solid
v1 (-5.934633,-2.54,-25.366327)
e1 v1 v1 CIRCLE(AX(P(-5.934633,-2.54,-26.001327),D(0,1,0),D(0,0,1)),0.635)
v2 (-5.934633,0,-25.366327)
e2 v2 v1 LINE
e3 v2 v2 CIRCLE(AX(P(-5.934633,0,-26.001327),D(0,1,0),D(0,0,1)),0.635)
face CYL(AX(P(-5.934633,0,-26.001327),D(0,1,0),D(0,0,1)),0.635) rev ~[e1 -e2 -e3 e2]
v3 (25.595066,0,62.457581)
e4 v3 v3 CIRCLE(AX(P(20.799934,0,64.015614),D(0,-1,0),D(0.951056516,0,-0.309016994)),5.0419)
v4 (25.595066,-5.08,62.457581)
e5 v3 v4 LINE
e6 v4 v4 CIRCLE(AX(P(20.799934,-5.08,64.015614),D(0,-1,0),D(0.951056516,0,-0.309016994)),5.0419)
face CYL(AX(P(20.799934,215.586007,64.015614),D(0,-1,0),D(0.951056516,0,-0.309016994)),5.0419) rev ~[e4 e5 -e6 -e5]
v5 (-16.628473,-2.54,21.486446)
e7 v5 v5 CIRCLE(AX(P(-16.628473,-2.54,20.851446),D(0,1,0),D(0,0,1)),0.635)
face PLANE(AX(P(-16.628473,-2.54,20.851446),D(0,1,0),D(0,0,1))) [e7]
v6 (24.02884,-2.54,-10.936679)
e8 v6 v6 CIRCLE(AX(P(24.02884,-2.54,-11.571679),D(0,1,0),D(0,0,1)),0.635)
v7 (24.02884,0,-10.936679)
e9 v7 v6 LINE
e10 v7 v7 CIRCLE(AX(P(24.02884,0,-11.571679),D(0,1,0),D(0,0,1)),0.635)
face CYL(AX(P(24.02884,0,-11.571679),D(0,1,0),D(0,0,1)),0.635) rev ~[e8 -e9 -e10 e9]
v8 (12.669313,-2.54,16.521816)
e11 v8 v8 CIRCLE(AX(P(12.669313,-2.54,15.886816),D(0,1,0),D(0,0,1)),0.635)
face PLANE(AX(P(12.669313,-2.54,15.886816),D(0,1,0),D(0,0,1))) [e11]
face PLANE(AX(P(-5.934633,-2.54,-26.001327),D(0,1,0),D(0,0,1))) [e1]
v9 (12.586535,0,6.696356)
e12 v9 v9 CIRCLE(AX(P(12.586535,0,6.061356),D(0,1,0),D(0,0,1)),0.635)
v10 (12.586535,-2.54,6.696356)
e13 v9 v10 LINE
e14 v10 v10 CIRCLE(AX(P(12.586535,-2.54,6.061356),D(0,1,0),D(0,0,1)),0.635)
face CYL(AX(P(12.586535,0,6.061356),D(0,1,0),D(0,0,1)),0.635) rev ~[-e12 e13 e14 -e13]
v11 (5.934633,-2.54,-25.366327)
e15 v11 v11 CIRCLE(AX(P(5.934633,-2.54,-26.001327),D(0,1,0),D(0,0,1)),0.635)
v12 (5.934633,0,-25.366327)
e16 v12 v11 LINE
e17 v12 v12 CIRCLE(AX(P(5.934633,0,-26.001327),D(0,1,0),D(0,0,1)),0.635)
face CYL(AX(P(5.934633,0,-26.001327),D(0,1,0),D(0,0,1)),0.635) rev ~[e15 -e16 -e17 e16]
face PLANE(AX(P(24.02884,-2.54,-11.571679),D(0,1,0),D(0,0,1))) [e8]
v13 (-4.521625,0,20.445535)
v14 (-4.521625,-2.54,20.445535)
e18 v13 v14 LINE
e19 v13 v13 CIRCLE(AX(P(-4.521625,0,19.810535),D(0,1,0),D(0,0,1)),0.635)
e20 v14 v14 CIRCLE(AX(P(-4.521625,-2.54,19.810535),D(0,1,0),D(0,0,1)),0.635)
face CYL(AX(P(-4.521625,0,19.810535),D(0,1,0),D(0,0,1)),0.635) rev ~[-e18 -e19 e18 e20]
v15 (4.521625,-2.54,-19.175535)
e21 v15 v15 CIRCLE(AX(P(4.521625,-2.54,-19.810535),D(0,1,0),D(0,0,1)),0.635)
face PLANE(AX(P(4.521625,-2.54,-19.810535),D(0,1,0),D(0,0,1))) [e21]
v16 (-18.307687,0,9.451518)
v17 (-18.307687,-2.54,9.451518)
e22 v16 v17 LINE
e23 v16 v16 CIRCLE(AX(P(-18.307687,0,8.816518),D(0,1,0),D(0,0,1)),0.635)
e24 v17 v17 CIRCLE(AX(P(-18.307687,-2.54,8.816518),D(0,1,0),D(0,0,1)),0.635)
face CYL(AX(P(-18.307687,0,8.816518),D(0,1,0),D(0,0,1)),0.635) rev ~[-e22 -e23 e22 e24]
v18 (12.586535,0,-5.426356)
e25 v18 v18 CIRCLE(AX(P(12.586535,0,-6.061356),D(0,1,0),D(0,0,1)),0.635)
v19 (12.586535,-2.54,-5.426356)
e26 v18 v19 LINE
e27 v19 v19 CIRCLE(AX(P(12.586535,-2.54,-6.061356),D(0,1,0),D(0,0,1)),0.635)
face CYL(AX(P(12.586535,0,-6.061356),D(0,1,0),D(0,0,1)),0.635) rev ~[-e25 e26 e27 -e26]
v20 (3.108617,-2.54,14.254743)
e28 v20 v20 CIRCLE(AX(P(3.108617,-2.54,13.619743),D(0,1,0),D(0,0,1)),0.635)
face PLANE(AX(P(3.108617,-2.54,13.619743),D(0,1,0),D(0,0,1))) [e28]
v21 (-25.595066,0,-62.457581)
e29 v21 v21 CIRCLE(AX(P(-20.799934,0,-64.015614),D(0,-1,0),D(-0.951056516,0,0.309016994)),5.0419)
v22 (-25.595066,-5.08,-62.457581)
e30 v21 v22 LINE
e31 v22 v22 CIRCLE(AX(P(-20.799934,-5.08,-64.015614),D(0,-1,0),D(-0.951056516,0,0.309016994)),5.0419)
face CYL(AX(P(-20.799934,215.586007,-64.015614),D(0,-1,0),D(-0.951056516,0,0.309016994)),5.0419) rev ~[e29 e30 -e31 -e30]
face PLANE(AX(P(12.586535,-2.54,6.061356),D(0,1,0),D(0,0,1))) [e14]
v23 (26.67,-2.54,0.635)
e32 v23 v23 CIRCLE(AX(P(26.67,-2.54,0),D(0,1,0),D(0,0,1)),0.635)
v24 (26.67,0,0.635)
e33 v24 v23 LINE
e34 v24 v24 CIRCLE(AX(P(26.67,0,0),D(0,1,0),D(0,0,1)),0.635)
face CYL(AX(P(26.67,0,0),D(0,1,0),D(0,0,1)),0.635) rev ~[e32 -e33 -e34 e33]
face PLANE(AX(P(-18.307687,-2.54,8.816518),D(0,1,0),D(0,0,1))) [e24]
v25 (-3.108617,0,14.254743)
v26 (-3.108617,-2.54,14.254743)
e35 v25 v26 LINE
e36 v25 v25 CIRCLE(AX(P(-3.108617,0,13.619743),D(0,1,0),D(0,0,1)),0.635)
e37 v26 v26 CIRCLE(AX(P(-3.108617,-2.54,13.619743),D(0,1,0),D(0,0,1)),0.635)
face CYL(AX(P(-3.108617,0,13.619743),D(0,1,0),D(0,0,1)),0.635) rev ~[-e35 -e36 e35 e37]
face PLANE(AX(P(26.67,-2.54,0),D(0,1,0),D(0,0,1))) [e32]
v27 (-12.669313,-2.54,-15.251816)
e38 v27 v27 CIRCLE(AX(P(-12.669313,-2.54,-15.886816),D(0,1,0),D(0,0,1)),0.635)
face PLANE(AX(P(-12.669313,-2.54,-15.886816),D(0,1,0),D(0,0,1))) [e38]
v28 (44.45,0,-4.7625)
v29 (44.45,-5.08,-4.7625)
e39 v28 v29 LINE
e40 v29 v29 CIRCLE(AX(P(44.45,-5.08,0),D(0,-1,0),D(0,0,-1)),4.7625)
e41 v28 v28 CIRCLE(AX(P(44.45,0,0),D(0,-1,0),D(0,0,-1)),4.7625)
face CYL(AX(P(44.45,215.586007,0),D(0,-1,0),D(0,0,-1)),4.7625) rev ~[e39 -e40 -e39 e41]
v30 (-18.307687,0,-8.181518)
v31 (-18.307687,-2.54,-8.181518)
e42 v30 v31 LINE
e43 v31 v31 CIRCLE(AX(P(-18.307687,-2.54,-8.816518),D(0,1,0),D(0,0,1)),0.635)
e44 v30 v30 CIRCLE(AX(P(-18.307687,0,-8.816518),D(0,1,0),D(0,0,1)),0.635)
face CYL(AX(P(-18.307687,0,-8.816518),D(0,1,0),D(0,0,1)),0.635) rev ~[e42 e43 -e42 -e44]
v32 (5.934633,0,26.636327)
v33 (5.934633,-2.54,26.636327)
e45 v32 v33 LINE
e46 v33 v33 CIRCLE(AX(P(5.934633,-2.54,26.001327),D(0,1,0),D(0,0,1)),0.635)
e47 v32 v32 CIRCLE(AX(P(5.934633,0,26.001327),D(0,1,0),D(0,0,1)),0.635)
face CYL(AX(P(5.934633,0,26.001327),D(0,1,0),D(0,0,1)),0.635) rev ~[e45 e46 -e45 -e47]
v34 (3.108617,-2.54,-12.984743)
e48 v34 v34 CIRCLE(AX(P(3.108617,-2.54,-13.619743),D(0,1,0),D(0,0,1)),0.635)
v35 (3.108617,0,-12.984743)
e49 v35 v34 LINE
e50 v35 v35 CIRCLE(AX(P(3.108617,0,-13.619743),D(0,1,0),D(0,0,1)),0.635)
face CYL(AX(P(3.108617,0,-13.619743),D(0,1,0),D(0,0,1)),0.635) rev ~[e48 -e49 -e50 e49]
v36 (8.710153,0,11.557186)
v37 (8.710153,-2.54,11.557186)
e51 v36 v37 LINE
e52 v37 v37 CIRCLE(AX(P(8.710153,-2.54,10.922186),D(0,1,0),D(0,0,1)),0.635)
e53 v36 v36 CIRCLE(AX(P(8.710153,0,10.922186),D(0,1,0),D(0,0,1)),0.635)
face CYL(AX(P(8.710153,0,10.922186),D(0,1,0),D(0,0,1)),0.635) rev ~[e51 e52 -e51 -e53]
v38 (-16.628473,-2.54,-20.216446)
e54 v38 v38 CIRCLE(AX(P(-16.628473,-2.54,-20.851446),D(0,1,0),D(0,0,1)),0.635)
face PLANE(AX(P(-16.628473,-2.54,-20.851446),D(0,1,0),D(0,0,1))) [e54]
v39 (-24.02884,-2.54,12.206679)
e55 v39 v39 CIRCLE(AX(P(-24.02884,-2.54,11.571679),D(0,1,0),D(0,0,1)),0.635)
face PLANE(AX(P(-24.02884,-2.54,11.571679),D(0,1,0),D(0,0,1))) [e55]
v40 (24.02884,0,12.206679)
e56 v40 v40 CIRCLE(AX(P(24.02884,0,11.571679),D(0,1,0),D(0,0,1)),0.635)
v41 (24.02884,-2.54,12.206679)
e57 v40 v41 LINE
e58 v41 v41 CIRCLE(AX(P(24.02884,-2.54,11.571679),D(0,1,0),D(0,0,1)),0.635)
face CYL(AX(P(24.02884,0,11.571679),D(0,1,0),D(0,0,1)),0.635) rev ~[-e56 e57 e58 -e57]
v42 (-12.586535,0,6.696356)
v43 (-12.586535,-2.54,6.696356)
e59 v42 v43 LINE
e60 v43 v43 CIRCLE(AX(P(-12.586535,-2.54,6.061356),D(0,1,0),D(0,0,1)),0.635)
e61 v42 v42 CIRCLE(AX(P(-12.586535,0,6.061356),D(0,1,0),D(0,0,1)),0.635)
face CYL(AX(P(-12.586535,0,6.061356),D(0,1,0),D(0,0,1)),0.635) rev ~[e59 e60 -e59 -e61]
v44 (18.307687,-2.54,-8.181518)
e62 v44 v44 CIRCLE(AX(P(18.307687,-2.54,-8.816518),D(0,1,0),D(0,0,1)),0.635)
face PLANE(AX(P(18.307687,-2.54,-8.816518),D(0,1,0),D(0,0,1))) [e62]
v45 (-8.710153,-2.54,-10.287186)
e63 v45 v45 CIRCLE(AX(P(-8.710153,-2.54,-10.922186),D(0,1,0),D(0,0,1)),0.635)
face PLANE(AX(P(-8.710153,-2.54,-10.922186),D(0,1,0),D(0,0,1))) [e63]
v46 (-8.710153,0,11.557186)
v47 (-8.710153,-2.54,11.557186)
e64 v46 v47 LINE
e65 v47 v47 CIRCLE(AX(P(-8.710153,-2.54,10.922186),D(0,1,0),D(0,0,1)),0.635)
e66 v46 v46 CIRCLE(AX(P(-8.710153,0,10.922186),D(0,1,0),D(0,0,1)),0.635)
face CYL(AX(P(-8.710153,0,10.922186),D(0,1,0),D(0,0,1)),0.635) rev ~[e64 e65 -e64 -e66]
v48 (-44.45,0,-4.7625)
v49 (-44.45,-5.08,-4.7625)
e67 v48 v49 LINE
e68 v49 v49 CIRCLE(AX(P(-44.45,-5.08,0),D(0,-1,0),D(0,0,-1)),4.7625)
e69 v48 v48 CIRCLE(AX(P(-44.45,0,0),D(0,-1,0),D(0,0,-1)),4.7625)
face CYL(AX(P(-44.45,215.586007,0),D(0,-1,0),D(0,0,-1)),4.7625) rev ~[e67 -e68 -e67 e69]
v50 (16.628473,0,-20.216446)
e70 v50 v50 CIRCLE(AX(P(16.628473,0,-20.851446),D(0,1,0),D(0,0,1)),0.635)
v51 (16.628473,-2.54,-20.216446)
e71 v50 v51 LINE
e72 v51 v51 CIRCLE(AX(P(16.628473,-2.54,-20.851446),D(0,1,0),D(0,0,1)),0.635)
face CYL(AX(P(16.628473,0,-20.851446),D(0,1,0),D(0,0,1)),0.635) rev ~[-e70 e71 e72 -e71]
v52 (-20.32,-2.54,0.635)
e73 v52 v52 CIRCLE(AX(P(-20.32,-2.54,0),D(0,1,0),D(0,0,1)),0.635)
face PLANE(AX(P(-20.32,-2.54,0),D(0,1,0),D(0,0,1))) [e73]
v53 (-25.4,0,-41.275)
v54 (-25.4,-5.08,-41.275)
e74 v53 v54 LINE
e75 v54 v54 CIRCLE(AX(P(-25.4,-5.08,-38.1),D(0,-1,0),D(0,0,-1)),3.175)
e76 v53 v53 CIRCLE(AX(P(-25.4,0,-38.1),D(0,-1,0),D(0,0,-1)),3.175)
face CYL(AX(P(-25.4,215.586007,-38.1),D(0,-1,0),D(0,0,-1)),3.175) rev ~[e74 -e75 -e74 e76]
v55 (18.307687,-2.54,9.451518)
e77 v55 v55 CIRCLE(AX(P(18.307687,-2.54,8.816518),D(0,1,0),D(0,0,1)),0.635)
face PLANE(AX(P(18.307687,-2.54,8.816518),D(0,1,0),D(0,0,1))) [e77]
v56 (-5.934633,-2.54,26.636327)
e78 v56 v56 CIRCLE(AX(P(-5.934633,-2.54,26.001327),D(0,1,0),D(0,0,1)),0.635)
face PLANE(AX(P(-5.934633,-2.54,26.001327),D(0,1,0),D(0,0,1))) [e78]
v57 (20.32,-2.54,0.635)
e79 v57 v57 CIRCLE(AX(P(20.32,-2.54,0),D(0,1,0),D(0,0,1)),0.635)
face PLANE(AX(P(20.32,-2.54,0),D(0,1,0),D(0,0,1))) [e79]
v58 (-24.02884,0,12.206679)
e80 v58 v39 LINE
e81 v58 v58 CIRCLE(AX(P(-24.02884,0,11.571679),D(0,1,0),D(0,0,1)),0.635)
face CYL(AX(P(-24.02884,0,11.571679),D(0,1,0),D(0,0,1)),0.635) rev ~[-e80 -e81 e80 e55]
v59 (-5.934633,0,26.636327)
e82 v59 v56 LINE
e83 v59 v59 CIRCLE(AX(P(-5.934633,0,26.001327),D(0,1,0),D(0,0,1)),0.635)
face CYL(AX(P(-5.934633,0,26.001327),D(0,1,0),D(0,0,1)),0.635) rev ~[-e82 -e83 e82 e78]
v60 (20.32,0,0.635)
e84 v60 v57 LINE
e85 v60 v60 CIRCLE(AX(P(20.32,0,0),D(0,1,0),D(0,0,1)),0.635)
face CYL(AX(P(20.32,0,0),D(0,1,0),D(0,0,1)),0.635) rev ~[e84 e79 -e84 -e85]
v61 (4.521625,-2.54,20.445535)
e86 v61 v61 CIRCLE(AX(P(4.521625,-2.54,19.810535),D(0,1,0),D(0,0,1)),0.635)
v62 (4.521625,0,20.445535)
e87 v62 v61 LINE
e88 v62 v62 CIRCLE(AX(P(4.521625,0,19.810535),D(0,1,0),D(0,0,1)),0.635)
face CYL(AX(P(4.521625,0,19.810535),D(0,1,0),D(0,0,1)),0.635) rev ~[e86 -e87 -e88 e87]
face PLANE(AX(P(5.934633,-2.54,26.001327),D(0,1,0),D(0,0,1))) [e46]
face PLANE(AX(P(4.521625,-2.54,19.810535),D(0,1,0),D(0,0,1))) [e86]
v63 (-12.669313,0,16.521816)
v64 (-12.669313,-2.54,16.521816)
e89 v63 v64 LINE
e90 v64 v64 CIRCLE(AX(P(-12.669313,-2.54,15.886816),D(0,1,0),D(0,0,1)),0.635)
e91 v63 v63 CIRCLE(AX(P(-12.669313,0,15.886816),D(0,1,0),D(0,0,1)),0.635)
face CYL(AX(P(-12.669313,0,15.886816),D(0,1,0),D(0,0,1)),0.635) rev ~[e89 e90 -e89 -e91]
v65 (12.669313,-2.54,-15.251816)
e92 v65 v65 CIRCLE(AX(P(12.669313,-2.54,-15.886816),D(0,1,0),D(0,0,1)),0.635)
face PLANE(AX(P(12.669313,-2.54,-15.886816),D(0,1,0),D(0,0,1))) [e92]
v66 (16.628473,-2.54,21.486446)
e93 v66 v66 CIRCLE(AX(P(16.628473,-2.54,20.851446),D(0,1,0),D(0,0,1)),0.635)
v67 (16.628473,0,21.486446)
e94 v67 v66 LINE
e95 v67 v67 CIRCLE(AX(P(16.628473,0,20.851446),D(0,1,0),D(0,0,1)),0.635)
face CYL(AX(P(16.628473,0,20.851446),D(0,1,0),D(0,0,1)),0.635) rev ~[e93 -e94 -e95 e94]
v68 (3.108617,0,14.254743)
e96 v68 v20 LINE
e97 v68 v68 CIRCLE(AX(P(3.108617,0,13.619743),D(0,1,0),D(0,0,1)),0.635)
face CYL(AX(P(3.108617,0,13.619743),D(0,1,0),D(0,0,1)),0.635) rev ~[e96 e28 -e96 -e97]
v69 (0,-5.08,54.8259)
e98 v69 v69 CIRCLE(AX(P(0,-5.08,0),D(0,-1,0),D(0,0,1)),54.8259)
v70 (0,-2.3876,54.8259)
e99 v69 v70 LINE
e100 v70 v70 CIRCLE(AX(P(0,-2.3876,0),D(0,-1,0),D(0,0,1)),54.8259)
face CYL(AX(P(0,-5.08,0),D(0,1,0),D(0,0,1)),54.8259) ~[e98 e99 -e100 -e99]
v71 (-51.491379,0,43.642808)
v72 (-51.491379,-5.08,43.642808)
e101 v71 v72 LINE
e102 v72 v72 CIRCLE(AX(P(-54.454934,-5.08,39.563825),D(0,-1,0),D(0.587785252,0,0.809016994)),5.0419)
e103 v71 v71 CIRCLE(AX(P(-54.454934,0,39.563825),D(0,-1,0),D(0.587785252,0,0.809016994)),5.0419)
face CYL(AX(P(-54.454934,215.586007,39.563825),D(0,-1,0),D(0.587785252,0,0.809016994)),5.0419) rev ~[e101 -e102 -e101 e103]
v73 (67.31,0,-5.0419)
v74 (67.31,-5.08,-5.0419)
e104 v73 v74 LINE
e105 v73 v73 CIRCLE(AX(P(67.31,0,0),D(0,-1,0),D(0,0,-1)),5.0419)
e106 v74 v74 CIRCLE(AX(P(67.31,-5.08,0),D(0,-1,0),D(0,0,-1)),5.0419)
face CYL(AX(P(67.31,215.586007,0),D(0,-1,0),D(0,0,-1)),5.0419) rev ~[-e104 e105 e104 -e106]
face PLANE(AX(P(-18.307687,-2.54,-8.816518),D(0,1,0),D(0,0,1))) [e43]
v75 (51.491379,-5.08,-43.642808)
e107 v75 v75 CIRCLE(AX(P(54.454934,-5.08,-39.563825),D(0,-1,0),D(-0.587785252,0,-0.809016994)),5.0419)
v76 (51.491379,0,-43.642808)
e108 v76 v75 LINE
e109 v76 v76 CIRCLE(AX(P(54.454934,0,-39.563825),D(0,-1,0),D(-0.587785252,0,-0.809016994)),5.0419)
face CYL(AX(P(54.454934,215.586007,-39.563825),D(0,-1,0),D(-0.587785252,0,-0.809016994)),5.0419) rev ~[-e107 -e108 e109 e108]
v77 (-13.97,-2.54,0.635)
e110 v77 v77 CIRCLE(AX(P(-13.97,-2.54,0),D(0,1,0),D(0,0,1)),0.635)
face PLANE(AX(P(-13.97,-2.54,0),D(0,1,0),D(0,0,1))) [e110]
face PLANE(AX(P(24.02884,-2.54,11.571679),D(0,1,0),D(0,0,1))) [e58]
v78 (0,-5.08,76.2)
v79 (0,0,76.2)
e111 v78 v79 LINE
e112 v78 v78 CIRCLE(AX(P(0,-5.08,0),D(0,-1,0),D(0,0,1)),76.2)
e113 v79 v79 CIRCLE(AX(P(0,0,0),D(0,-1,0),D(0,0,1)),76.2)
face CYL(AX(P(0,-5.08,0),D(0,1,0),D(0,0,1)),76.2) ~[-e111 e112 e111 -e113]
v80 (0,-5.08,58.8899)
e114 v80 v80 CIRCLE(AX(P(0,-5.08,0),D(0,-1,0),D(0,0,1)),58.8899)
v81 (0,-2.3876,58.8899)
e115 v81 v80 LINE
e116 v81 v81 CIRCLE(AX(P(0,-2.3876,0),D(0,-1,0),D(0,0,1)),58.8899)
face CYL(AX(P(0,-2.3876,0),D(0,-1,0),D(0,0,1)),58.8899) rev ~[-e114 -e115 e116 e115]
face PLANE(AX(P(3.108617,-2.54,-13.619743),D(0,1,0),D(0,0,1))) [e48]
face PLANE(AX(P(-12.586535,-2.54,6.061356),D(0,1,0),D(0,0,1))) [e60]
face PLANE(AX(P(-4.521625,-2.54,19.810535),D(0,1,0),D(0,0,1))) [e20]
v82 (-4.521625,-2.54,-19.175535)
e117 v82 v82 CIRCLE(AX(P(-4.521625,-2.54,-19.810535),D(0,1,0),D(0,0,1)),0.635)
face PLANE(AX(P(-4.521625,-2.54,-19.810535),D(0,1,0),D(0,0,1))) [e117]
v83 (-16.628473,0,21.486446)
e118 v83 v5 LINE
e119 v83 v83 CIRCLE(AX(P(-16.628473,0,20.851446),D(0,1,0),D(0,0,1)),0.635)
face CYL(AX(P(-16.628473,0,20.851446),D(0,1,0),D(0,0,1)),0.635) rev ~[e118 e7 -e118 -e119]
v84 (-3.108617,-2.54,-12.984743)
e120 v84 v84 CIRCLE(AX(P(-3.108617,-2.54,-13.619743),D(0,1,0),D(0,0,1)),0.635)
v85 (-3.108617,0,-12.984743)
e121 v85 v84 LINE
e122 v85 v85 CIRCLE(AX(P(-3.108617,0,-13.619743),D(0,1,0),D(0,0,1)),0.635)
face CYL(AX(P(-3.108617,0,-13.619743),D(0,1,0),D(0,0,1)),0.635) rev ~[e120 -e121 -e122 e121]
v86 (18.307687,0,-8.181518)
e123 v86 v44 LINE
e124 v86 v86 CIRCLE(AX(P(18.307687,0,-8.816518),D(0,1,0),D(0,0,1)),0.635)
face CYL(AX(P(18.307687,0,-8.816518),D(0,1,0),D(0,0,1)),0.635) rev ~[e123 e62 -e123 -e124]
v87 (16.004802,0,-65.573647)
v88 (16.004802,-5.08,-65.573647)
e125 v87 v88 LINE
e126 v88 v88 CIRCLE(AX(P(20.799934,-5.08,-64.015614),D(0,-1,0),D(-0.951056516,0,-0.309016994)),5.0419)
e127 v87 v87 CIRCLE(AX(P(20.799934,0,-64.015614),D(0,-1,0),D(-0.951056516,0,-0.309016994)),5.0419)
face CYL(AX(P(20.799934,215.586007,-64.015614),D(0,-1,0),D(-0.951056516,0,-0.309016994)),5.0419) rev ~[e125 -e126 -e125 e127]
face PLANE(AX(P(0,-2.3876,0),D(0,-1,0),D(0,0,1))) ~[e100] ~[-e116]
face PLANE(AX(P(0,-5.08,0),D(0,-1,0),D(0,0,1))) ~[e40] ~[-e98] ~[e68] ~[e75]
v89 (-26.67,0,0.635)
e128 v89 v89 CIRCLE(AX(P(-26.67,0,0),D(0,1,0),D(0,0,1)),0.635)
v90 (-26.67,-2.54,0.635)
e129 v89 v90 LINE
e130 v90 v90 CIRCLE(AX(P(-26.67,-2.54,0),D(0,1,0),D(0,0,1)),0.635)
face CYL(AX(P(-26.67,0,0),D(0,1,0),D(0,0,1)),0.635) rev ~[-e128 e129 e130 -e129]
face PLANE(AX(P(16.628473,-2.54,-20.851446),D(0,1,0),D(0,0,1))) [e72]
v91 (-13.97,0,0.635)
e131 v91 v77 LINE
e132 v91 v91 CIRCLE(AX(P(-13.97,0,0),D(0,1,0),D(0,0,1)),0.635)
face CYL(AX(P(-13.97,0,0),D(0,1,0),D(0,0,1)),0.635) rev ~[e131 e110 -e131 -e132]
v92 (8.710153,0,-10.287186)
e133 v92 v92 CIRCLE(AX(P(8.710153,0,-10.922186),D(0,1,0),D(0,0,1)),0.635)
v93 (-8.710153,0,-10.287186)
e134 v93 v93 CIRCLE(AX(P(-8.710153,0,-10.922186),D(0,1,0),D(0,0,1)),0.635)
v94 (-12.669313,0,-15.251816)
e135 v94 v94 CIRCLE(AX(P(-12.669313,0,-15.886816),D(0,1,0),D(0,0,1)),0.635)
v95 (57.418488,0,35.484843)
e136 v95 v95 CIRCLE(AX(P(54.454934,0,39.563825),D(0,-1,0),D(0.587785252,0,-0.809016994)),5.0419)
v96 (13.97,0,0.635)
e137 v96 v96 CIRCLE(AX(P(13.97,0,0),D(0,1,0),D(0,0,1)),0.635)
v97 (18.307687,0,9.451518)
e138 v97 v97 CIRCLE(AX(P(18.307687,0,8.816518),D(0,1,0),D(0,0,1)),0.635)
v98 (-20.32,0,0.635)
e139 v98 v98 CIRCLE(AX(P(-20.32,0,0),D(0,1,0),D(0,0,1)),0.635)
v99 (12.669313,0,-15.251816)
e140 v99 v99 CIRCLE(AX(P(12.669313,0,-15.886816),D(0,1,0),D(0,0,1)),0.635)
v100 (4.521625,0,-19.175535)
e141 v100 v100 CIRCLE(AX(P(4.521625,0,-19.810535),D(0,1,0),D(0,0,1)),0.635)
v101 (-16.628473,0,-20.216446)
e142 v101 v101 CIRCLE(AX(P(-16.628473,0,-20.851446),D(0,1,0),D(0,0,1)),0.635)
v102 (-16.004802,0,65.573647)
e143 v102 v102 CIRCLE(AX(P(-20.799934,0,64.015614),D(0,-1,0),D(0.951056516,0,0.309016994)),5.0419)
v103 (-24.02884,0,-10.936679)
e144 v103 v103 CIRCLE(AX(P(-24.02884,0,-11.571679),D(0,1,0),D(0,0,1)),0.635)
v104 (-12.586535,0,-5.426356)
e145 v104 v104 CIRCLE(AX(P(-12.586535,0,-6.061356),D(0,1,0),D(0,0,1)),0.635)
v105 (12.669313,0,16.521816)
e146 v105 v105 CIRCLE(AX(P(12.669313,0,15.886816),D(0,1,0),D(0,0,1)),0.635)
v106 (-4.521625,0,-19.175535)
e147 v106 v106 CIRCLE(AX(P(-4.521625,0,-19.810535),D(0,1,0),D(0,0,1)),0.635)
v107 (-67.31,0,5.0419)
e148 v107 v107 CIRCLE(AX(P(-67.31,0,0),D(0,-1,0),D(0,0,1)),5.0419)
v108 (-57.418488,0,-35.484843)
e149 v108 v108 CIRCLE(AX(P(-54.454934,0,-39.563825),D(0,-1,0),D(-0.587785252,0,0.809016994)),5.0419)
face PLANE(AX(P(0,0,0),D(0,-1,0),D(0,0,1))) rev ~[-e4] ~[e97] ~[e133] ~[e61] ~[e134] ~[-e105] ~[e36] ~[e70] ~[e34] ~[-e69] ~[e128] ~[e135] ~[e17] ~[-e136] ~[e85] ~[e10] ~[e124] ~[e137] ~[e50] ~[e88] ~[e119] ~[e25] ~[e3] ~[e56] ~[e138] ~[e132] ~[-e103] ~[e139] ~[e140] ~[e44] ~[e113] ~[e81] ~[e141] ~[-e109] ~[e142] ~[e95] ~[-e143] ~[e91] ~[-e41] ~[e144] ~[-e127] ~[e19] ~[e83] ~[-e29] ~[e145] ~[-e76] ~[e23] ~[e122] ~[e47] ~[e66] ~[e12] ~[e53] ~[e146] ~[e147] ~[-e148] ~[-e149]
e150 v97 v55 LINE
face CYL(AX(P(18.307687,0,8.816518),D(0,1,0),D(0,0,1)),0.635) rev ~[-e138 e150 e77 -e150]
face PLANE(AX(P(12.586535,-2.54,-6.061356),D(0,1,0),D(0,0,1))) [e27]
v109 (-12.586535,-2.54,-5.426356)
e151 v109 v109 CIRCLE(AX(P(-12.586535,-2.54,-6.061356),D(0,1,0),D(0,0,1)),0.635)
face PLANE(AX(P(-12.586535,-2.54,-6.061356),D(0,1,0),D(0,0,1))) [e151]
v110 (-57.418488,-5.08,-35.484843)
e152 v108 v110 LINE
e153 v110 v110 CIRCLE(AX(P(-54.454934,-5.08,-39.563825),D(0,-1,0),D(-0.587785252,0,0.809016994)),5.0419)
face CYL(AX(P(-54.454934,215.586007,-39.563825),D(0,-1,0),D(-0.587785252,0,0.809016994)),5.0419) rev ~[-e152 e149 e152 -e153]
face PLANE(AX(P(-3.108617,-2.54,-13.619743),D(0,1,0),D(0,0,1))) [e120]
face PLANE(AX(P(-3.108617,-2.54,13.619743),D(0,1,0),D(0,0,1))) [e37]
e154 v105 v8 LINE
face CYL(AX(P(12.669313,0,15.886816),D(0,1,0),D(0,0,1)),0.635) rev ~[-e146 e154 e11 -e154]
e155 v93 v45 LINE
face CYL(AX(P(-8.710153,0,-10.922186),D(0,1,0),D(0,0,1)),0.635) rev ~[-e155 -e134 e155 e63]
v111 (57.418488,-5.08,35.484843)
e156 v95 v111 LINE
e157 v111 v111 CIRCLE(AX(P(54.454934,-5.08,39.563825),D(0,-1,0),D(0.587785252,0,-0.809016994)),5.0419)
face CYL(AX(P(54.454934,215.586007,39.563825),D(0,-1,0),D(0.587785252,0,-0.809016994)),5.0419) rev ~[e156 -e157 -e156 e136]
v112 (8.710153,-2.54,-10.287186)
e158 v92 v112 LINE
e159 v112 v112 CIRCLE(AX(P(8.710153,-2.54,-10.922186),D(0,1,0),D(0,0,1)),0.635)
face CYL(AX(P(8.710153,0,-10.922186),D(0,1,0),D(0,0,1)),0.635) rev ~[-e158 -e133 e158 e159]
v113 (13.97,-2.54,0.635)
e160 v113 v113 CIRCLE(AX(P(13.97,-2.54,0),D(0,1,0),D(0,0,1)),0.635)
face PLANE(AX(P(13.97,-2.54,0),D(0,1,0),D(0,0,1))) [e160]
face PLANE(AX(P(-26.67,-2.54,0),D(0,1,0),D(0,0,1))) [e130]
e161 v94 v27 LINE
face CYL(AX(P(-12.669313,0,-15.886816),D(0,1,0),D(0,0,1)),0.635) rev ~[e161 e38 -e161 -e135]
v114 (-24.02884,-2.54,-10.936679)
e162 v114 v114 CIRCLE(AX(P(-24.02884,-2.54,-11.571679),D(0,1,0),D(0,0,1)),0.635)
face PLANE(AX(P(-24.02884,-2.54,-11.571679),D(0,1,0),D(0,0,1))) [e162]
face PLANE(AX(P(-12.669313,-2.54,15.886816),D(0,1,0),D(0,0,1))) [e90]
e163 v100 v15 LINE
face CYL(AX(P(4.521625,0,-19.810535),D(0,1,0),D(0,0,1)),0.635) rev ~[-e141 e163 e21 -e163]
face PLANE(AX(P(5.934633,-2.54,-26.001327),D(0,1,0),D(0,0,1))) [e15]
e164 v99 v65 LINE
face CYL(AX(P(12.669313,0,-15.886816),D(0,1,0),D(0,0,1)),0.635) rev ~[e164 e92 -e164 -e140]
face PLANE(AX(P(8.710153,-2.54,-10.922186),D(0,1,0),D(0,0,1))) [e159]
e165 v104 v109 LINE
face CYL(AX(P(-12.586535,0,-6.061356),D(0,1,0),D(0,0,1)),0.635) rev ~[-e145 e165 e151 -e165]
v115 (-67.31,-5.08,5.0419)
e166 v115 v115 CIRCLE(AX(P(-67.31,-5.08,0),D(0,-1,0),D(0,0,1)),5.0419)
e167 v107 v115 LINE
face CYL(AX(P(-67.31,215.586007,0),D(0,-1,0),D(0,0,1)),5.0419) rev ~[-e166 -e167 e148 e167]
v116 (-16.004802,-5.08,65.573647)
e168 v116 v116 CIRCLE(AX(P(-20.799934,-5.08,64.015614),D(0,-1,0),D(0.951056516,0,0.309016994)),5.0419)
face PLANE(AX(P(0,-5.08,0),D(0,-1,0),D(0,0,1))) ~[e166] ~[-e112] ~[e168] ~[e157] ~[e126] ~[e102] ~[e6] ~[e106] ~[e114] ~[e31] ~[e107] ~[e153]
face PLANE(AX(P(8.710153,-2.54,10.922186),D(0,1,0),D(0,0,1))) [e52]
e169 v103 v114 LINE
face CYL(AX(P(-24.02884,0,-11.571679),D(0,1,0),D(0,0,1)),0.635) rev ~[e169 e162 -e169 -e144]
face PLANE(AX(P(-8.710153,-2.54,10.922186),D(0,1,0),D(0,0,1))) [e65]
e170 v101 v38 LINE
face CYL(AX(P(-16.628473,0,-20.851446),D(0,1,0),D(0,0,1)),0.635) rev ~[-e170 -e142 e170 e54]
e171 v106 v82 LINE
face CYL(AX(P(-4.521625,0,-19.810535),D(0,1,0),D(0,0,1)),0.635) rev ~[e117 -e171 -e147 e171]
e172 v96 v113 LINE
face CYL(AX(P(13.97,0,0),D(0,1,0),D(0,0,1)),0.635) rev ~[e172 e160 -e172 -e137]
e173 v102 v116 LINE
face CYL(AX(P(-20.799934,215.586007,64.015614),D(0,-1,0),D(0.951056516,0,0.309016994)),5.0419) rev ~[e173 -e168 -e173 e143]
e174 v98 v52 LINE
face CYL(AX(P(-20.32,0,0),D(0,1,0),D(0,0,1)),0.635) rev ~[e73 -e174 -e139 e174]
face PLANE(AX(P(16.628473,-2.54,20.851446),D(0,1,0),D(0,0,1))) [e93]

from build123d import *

# Parameters (mm, degrees)
F_3_8_CLEARANCE_HOLE1_D      = 10.0838
CIRPATTERN1_COUNT            = 10
F_3_8_0_375_DIAMETER_HOLE1_D = 9.525
F_1_4_0_25_DIAMETER_HOLE1_D  = 6.35
SKETCH7_R                    = 0.635
CUT_EXTRUDE1_DEPTH           = 2.54


with BuildPart() as part:
    # Sketch1 → Revolve1 (revolve)
    with BuildSketch(Plane.XY):
        Polygon((0, 0), (0, -5.08), (54.8259, -5.08), (54.8259, -2.3876), (58.8899, -2.3876), (58.8899, -5.08), (76.2, -5.08), (76.2, 0), align=None)
    revolve(axis=Axis((0, 0, 0), (0, -1, 0)))

    # 3/8 Clearance Hole1 (through all)
    with Locations(Plane(origin=(67.31, 0, 0), x_dir=(0, 0, 1), z_dir=(0, 1, 0))):
        with Locations((0, 0)):
            f_3_8_clearance_hole1 = Hole(F_3_8_CLEARANCE_HOLE1_D / 2)

    # CirPattern1: 3/8 Clearance Hole1 ×10 about axis
    cirpattern1_axis = Axis((0, -5.334, 0), (0, 1, 0))
    for i in range(1, CIRPATTERN1_COUNT):
        add(f_3_8_clearance_hole1.rotate(cirpattern1_axis, i * 360 / CIRPATTERN1_COUNT), mode=Mode.SUBTRACT)

    # 3/8 (0.375) Diameter Hole1 (through all)
    with Locations(Plane(origin=(44.45, 0, 0), x_dir=(0, 0, 1), z_dir=(0, 1, 0))):
        with Locations((0, 0), (0, -88.9)):
            Hole(F_3_8_0_375_DIAMETER_HOLE1_D / 2)

    # 1/4 (0.25) Diameter Hole1 (through all)
    with Locations(Plane(origin=(-25.4, 0, -38.1), x_dir=(0, 0, 1), z_dir=(0, 1, 0))):
        with Locations((0, 0)):
            Hole(F_1_4_0_25_DIAMETER_HOLE1_D / 2)

    # Sketch7 → Cut-Extrude1 (cut)
    with BuildSketch(Plane(origin=(0, 0, 0), x_dir=(1, 0, 0), z_dir=(0, 1, 0))):
        with Locations((13.97, 0)):
            Circle(SKETCH7_R)
        with Locations((20.32, 0)):
            Circle(SKETCH7_R)
        with Locations((26.67, 0)):
            Circle(SKETCH7_R)
        with Locations((12.586535085, -6.061355835)):
            Circle(SKETCH7_R)
        with Locations((18.307687396, -8.816517579)):
            Circle(SKETCH7_R)
        with Locations((24.028839707, -11.571679322)):
            Circle(SKETCH7_R)
        with Locations((8.710152532, -10.92218581)):
            Circle(SKETCH7_R)
        with Locations((12.669312774, -15.886815724)):
            Circle(SKETCH7_R)
        with Locations((16.628473016, -20.851445637)):
            Circle(SKETCH7_R)
        with Locations((3.108617447, -13.619742933)):
            Circle(SKETCH7_R)
        with Locations((4.521625378, -19.810535176)):
            Circle(SKETCH7_R)
        with Locations((5.934633309, -26.001327418)):
            Circle(SKETCH7_R)
        with Locations((-3.108617447, -13.619742933)):
            Circle(SKETCH7_R)
        with Locations((-4.521625378, -19.810535176)):
            Circle(SKETCH7_R)
        with Locations((-5.934633309, -26.001327418)):
            Circle(SKETCH7_R)
        with Locations((-8.710152532, -10.92218581)):
            Circle(SKETCH7_R)
        with Locations((-12.669312774, -15.886815724)):
            Circle(SKETCH7_R)
        with Locations((-16.628473016, -20.851445637)):
            Circle(SKETCH7_R)
        with Locations((-12.586535085, -6.061355835)):
            Circle(SKETCH7_R)
        with Locations((-18.307687396, -8.816517579)):
            Circle(SKETCH7_R)
        with Locations((-24.028839707, -11.571679322)):
            Circle(SKETCH7_R)
        with Locations((-13.97, 0)):
            Circle(SKETCH7_R)
        with Locations((-20.32, 0)):
            Circle(SKETCH7_R)
        with Locations((-26.67, 0)):
            Circle(SKETCH7_R)
        with Locations((-12.586535085, 6.061355835)):
            Circle(SKETCH7_R)
        with Locations((-18.307687396, 8.816517579)):
            Circle(SKETCH7_R)
        with Locations((-24.028839707, 11.571679322)):
            Circle(SKETCH7_R)
        with Locations((-8.710152532, 10.92218581)):
            Circle(SKETCH7_R)
        with Locations((-12.669312774, 15.886815724)):
            Circle(SKETCH7_R)
        with Locations((-16.628473016, 20.851445637)):
            Circle(SKETCH7_R)
        with Locations((-3.108617447, 13.619742933)):
            Circle(SKETCH7_R)
        with Locations((-4.521625378, 19.810535176)):
            Circle(SKETCH7_R)
        with Locations((-5.934633309, 26.001327418)):
            Circle(SKETCH7_R)
        with Locations((3.108617447, 13.619742933)):
            Circle(SKETCH7_R)
        with Locations((4.521625378, 19.810535176)):
            Circle(SKETCH7_R)
        with Locations((5.934633309, 26.001327418)):
            Circle(SKETCH7_R)
        with Locations((8.710152532, 10.92218581)):
            Circle(SKETCH7_R)
        with Locations((12.669312774, 15.886815724)):
            Circle(SKETCH7_R)
        with Locations((16.628473016, 20.851445637)):
            Circle(SKETCH7_R)
        with Locations((12.586535085, 6.061355835)):
            Circle(SKETCH7_R)
        with Locations((18.307687396, 8.816517579)):
            Circle(SKETCH7_R)
        with Locations((24.028839707, 11.571679322)):
            Circle(SKETCH7_R)
    extrude(amount=-CUT_EXTRUDE1_DEPTH, mode=Mode.SUBTRACT)


solid = part.part
